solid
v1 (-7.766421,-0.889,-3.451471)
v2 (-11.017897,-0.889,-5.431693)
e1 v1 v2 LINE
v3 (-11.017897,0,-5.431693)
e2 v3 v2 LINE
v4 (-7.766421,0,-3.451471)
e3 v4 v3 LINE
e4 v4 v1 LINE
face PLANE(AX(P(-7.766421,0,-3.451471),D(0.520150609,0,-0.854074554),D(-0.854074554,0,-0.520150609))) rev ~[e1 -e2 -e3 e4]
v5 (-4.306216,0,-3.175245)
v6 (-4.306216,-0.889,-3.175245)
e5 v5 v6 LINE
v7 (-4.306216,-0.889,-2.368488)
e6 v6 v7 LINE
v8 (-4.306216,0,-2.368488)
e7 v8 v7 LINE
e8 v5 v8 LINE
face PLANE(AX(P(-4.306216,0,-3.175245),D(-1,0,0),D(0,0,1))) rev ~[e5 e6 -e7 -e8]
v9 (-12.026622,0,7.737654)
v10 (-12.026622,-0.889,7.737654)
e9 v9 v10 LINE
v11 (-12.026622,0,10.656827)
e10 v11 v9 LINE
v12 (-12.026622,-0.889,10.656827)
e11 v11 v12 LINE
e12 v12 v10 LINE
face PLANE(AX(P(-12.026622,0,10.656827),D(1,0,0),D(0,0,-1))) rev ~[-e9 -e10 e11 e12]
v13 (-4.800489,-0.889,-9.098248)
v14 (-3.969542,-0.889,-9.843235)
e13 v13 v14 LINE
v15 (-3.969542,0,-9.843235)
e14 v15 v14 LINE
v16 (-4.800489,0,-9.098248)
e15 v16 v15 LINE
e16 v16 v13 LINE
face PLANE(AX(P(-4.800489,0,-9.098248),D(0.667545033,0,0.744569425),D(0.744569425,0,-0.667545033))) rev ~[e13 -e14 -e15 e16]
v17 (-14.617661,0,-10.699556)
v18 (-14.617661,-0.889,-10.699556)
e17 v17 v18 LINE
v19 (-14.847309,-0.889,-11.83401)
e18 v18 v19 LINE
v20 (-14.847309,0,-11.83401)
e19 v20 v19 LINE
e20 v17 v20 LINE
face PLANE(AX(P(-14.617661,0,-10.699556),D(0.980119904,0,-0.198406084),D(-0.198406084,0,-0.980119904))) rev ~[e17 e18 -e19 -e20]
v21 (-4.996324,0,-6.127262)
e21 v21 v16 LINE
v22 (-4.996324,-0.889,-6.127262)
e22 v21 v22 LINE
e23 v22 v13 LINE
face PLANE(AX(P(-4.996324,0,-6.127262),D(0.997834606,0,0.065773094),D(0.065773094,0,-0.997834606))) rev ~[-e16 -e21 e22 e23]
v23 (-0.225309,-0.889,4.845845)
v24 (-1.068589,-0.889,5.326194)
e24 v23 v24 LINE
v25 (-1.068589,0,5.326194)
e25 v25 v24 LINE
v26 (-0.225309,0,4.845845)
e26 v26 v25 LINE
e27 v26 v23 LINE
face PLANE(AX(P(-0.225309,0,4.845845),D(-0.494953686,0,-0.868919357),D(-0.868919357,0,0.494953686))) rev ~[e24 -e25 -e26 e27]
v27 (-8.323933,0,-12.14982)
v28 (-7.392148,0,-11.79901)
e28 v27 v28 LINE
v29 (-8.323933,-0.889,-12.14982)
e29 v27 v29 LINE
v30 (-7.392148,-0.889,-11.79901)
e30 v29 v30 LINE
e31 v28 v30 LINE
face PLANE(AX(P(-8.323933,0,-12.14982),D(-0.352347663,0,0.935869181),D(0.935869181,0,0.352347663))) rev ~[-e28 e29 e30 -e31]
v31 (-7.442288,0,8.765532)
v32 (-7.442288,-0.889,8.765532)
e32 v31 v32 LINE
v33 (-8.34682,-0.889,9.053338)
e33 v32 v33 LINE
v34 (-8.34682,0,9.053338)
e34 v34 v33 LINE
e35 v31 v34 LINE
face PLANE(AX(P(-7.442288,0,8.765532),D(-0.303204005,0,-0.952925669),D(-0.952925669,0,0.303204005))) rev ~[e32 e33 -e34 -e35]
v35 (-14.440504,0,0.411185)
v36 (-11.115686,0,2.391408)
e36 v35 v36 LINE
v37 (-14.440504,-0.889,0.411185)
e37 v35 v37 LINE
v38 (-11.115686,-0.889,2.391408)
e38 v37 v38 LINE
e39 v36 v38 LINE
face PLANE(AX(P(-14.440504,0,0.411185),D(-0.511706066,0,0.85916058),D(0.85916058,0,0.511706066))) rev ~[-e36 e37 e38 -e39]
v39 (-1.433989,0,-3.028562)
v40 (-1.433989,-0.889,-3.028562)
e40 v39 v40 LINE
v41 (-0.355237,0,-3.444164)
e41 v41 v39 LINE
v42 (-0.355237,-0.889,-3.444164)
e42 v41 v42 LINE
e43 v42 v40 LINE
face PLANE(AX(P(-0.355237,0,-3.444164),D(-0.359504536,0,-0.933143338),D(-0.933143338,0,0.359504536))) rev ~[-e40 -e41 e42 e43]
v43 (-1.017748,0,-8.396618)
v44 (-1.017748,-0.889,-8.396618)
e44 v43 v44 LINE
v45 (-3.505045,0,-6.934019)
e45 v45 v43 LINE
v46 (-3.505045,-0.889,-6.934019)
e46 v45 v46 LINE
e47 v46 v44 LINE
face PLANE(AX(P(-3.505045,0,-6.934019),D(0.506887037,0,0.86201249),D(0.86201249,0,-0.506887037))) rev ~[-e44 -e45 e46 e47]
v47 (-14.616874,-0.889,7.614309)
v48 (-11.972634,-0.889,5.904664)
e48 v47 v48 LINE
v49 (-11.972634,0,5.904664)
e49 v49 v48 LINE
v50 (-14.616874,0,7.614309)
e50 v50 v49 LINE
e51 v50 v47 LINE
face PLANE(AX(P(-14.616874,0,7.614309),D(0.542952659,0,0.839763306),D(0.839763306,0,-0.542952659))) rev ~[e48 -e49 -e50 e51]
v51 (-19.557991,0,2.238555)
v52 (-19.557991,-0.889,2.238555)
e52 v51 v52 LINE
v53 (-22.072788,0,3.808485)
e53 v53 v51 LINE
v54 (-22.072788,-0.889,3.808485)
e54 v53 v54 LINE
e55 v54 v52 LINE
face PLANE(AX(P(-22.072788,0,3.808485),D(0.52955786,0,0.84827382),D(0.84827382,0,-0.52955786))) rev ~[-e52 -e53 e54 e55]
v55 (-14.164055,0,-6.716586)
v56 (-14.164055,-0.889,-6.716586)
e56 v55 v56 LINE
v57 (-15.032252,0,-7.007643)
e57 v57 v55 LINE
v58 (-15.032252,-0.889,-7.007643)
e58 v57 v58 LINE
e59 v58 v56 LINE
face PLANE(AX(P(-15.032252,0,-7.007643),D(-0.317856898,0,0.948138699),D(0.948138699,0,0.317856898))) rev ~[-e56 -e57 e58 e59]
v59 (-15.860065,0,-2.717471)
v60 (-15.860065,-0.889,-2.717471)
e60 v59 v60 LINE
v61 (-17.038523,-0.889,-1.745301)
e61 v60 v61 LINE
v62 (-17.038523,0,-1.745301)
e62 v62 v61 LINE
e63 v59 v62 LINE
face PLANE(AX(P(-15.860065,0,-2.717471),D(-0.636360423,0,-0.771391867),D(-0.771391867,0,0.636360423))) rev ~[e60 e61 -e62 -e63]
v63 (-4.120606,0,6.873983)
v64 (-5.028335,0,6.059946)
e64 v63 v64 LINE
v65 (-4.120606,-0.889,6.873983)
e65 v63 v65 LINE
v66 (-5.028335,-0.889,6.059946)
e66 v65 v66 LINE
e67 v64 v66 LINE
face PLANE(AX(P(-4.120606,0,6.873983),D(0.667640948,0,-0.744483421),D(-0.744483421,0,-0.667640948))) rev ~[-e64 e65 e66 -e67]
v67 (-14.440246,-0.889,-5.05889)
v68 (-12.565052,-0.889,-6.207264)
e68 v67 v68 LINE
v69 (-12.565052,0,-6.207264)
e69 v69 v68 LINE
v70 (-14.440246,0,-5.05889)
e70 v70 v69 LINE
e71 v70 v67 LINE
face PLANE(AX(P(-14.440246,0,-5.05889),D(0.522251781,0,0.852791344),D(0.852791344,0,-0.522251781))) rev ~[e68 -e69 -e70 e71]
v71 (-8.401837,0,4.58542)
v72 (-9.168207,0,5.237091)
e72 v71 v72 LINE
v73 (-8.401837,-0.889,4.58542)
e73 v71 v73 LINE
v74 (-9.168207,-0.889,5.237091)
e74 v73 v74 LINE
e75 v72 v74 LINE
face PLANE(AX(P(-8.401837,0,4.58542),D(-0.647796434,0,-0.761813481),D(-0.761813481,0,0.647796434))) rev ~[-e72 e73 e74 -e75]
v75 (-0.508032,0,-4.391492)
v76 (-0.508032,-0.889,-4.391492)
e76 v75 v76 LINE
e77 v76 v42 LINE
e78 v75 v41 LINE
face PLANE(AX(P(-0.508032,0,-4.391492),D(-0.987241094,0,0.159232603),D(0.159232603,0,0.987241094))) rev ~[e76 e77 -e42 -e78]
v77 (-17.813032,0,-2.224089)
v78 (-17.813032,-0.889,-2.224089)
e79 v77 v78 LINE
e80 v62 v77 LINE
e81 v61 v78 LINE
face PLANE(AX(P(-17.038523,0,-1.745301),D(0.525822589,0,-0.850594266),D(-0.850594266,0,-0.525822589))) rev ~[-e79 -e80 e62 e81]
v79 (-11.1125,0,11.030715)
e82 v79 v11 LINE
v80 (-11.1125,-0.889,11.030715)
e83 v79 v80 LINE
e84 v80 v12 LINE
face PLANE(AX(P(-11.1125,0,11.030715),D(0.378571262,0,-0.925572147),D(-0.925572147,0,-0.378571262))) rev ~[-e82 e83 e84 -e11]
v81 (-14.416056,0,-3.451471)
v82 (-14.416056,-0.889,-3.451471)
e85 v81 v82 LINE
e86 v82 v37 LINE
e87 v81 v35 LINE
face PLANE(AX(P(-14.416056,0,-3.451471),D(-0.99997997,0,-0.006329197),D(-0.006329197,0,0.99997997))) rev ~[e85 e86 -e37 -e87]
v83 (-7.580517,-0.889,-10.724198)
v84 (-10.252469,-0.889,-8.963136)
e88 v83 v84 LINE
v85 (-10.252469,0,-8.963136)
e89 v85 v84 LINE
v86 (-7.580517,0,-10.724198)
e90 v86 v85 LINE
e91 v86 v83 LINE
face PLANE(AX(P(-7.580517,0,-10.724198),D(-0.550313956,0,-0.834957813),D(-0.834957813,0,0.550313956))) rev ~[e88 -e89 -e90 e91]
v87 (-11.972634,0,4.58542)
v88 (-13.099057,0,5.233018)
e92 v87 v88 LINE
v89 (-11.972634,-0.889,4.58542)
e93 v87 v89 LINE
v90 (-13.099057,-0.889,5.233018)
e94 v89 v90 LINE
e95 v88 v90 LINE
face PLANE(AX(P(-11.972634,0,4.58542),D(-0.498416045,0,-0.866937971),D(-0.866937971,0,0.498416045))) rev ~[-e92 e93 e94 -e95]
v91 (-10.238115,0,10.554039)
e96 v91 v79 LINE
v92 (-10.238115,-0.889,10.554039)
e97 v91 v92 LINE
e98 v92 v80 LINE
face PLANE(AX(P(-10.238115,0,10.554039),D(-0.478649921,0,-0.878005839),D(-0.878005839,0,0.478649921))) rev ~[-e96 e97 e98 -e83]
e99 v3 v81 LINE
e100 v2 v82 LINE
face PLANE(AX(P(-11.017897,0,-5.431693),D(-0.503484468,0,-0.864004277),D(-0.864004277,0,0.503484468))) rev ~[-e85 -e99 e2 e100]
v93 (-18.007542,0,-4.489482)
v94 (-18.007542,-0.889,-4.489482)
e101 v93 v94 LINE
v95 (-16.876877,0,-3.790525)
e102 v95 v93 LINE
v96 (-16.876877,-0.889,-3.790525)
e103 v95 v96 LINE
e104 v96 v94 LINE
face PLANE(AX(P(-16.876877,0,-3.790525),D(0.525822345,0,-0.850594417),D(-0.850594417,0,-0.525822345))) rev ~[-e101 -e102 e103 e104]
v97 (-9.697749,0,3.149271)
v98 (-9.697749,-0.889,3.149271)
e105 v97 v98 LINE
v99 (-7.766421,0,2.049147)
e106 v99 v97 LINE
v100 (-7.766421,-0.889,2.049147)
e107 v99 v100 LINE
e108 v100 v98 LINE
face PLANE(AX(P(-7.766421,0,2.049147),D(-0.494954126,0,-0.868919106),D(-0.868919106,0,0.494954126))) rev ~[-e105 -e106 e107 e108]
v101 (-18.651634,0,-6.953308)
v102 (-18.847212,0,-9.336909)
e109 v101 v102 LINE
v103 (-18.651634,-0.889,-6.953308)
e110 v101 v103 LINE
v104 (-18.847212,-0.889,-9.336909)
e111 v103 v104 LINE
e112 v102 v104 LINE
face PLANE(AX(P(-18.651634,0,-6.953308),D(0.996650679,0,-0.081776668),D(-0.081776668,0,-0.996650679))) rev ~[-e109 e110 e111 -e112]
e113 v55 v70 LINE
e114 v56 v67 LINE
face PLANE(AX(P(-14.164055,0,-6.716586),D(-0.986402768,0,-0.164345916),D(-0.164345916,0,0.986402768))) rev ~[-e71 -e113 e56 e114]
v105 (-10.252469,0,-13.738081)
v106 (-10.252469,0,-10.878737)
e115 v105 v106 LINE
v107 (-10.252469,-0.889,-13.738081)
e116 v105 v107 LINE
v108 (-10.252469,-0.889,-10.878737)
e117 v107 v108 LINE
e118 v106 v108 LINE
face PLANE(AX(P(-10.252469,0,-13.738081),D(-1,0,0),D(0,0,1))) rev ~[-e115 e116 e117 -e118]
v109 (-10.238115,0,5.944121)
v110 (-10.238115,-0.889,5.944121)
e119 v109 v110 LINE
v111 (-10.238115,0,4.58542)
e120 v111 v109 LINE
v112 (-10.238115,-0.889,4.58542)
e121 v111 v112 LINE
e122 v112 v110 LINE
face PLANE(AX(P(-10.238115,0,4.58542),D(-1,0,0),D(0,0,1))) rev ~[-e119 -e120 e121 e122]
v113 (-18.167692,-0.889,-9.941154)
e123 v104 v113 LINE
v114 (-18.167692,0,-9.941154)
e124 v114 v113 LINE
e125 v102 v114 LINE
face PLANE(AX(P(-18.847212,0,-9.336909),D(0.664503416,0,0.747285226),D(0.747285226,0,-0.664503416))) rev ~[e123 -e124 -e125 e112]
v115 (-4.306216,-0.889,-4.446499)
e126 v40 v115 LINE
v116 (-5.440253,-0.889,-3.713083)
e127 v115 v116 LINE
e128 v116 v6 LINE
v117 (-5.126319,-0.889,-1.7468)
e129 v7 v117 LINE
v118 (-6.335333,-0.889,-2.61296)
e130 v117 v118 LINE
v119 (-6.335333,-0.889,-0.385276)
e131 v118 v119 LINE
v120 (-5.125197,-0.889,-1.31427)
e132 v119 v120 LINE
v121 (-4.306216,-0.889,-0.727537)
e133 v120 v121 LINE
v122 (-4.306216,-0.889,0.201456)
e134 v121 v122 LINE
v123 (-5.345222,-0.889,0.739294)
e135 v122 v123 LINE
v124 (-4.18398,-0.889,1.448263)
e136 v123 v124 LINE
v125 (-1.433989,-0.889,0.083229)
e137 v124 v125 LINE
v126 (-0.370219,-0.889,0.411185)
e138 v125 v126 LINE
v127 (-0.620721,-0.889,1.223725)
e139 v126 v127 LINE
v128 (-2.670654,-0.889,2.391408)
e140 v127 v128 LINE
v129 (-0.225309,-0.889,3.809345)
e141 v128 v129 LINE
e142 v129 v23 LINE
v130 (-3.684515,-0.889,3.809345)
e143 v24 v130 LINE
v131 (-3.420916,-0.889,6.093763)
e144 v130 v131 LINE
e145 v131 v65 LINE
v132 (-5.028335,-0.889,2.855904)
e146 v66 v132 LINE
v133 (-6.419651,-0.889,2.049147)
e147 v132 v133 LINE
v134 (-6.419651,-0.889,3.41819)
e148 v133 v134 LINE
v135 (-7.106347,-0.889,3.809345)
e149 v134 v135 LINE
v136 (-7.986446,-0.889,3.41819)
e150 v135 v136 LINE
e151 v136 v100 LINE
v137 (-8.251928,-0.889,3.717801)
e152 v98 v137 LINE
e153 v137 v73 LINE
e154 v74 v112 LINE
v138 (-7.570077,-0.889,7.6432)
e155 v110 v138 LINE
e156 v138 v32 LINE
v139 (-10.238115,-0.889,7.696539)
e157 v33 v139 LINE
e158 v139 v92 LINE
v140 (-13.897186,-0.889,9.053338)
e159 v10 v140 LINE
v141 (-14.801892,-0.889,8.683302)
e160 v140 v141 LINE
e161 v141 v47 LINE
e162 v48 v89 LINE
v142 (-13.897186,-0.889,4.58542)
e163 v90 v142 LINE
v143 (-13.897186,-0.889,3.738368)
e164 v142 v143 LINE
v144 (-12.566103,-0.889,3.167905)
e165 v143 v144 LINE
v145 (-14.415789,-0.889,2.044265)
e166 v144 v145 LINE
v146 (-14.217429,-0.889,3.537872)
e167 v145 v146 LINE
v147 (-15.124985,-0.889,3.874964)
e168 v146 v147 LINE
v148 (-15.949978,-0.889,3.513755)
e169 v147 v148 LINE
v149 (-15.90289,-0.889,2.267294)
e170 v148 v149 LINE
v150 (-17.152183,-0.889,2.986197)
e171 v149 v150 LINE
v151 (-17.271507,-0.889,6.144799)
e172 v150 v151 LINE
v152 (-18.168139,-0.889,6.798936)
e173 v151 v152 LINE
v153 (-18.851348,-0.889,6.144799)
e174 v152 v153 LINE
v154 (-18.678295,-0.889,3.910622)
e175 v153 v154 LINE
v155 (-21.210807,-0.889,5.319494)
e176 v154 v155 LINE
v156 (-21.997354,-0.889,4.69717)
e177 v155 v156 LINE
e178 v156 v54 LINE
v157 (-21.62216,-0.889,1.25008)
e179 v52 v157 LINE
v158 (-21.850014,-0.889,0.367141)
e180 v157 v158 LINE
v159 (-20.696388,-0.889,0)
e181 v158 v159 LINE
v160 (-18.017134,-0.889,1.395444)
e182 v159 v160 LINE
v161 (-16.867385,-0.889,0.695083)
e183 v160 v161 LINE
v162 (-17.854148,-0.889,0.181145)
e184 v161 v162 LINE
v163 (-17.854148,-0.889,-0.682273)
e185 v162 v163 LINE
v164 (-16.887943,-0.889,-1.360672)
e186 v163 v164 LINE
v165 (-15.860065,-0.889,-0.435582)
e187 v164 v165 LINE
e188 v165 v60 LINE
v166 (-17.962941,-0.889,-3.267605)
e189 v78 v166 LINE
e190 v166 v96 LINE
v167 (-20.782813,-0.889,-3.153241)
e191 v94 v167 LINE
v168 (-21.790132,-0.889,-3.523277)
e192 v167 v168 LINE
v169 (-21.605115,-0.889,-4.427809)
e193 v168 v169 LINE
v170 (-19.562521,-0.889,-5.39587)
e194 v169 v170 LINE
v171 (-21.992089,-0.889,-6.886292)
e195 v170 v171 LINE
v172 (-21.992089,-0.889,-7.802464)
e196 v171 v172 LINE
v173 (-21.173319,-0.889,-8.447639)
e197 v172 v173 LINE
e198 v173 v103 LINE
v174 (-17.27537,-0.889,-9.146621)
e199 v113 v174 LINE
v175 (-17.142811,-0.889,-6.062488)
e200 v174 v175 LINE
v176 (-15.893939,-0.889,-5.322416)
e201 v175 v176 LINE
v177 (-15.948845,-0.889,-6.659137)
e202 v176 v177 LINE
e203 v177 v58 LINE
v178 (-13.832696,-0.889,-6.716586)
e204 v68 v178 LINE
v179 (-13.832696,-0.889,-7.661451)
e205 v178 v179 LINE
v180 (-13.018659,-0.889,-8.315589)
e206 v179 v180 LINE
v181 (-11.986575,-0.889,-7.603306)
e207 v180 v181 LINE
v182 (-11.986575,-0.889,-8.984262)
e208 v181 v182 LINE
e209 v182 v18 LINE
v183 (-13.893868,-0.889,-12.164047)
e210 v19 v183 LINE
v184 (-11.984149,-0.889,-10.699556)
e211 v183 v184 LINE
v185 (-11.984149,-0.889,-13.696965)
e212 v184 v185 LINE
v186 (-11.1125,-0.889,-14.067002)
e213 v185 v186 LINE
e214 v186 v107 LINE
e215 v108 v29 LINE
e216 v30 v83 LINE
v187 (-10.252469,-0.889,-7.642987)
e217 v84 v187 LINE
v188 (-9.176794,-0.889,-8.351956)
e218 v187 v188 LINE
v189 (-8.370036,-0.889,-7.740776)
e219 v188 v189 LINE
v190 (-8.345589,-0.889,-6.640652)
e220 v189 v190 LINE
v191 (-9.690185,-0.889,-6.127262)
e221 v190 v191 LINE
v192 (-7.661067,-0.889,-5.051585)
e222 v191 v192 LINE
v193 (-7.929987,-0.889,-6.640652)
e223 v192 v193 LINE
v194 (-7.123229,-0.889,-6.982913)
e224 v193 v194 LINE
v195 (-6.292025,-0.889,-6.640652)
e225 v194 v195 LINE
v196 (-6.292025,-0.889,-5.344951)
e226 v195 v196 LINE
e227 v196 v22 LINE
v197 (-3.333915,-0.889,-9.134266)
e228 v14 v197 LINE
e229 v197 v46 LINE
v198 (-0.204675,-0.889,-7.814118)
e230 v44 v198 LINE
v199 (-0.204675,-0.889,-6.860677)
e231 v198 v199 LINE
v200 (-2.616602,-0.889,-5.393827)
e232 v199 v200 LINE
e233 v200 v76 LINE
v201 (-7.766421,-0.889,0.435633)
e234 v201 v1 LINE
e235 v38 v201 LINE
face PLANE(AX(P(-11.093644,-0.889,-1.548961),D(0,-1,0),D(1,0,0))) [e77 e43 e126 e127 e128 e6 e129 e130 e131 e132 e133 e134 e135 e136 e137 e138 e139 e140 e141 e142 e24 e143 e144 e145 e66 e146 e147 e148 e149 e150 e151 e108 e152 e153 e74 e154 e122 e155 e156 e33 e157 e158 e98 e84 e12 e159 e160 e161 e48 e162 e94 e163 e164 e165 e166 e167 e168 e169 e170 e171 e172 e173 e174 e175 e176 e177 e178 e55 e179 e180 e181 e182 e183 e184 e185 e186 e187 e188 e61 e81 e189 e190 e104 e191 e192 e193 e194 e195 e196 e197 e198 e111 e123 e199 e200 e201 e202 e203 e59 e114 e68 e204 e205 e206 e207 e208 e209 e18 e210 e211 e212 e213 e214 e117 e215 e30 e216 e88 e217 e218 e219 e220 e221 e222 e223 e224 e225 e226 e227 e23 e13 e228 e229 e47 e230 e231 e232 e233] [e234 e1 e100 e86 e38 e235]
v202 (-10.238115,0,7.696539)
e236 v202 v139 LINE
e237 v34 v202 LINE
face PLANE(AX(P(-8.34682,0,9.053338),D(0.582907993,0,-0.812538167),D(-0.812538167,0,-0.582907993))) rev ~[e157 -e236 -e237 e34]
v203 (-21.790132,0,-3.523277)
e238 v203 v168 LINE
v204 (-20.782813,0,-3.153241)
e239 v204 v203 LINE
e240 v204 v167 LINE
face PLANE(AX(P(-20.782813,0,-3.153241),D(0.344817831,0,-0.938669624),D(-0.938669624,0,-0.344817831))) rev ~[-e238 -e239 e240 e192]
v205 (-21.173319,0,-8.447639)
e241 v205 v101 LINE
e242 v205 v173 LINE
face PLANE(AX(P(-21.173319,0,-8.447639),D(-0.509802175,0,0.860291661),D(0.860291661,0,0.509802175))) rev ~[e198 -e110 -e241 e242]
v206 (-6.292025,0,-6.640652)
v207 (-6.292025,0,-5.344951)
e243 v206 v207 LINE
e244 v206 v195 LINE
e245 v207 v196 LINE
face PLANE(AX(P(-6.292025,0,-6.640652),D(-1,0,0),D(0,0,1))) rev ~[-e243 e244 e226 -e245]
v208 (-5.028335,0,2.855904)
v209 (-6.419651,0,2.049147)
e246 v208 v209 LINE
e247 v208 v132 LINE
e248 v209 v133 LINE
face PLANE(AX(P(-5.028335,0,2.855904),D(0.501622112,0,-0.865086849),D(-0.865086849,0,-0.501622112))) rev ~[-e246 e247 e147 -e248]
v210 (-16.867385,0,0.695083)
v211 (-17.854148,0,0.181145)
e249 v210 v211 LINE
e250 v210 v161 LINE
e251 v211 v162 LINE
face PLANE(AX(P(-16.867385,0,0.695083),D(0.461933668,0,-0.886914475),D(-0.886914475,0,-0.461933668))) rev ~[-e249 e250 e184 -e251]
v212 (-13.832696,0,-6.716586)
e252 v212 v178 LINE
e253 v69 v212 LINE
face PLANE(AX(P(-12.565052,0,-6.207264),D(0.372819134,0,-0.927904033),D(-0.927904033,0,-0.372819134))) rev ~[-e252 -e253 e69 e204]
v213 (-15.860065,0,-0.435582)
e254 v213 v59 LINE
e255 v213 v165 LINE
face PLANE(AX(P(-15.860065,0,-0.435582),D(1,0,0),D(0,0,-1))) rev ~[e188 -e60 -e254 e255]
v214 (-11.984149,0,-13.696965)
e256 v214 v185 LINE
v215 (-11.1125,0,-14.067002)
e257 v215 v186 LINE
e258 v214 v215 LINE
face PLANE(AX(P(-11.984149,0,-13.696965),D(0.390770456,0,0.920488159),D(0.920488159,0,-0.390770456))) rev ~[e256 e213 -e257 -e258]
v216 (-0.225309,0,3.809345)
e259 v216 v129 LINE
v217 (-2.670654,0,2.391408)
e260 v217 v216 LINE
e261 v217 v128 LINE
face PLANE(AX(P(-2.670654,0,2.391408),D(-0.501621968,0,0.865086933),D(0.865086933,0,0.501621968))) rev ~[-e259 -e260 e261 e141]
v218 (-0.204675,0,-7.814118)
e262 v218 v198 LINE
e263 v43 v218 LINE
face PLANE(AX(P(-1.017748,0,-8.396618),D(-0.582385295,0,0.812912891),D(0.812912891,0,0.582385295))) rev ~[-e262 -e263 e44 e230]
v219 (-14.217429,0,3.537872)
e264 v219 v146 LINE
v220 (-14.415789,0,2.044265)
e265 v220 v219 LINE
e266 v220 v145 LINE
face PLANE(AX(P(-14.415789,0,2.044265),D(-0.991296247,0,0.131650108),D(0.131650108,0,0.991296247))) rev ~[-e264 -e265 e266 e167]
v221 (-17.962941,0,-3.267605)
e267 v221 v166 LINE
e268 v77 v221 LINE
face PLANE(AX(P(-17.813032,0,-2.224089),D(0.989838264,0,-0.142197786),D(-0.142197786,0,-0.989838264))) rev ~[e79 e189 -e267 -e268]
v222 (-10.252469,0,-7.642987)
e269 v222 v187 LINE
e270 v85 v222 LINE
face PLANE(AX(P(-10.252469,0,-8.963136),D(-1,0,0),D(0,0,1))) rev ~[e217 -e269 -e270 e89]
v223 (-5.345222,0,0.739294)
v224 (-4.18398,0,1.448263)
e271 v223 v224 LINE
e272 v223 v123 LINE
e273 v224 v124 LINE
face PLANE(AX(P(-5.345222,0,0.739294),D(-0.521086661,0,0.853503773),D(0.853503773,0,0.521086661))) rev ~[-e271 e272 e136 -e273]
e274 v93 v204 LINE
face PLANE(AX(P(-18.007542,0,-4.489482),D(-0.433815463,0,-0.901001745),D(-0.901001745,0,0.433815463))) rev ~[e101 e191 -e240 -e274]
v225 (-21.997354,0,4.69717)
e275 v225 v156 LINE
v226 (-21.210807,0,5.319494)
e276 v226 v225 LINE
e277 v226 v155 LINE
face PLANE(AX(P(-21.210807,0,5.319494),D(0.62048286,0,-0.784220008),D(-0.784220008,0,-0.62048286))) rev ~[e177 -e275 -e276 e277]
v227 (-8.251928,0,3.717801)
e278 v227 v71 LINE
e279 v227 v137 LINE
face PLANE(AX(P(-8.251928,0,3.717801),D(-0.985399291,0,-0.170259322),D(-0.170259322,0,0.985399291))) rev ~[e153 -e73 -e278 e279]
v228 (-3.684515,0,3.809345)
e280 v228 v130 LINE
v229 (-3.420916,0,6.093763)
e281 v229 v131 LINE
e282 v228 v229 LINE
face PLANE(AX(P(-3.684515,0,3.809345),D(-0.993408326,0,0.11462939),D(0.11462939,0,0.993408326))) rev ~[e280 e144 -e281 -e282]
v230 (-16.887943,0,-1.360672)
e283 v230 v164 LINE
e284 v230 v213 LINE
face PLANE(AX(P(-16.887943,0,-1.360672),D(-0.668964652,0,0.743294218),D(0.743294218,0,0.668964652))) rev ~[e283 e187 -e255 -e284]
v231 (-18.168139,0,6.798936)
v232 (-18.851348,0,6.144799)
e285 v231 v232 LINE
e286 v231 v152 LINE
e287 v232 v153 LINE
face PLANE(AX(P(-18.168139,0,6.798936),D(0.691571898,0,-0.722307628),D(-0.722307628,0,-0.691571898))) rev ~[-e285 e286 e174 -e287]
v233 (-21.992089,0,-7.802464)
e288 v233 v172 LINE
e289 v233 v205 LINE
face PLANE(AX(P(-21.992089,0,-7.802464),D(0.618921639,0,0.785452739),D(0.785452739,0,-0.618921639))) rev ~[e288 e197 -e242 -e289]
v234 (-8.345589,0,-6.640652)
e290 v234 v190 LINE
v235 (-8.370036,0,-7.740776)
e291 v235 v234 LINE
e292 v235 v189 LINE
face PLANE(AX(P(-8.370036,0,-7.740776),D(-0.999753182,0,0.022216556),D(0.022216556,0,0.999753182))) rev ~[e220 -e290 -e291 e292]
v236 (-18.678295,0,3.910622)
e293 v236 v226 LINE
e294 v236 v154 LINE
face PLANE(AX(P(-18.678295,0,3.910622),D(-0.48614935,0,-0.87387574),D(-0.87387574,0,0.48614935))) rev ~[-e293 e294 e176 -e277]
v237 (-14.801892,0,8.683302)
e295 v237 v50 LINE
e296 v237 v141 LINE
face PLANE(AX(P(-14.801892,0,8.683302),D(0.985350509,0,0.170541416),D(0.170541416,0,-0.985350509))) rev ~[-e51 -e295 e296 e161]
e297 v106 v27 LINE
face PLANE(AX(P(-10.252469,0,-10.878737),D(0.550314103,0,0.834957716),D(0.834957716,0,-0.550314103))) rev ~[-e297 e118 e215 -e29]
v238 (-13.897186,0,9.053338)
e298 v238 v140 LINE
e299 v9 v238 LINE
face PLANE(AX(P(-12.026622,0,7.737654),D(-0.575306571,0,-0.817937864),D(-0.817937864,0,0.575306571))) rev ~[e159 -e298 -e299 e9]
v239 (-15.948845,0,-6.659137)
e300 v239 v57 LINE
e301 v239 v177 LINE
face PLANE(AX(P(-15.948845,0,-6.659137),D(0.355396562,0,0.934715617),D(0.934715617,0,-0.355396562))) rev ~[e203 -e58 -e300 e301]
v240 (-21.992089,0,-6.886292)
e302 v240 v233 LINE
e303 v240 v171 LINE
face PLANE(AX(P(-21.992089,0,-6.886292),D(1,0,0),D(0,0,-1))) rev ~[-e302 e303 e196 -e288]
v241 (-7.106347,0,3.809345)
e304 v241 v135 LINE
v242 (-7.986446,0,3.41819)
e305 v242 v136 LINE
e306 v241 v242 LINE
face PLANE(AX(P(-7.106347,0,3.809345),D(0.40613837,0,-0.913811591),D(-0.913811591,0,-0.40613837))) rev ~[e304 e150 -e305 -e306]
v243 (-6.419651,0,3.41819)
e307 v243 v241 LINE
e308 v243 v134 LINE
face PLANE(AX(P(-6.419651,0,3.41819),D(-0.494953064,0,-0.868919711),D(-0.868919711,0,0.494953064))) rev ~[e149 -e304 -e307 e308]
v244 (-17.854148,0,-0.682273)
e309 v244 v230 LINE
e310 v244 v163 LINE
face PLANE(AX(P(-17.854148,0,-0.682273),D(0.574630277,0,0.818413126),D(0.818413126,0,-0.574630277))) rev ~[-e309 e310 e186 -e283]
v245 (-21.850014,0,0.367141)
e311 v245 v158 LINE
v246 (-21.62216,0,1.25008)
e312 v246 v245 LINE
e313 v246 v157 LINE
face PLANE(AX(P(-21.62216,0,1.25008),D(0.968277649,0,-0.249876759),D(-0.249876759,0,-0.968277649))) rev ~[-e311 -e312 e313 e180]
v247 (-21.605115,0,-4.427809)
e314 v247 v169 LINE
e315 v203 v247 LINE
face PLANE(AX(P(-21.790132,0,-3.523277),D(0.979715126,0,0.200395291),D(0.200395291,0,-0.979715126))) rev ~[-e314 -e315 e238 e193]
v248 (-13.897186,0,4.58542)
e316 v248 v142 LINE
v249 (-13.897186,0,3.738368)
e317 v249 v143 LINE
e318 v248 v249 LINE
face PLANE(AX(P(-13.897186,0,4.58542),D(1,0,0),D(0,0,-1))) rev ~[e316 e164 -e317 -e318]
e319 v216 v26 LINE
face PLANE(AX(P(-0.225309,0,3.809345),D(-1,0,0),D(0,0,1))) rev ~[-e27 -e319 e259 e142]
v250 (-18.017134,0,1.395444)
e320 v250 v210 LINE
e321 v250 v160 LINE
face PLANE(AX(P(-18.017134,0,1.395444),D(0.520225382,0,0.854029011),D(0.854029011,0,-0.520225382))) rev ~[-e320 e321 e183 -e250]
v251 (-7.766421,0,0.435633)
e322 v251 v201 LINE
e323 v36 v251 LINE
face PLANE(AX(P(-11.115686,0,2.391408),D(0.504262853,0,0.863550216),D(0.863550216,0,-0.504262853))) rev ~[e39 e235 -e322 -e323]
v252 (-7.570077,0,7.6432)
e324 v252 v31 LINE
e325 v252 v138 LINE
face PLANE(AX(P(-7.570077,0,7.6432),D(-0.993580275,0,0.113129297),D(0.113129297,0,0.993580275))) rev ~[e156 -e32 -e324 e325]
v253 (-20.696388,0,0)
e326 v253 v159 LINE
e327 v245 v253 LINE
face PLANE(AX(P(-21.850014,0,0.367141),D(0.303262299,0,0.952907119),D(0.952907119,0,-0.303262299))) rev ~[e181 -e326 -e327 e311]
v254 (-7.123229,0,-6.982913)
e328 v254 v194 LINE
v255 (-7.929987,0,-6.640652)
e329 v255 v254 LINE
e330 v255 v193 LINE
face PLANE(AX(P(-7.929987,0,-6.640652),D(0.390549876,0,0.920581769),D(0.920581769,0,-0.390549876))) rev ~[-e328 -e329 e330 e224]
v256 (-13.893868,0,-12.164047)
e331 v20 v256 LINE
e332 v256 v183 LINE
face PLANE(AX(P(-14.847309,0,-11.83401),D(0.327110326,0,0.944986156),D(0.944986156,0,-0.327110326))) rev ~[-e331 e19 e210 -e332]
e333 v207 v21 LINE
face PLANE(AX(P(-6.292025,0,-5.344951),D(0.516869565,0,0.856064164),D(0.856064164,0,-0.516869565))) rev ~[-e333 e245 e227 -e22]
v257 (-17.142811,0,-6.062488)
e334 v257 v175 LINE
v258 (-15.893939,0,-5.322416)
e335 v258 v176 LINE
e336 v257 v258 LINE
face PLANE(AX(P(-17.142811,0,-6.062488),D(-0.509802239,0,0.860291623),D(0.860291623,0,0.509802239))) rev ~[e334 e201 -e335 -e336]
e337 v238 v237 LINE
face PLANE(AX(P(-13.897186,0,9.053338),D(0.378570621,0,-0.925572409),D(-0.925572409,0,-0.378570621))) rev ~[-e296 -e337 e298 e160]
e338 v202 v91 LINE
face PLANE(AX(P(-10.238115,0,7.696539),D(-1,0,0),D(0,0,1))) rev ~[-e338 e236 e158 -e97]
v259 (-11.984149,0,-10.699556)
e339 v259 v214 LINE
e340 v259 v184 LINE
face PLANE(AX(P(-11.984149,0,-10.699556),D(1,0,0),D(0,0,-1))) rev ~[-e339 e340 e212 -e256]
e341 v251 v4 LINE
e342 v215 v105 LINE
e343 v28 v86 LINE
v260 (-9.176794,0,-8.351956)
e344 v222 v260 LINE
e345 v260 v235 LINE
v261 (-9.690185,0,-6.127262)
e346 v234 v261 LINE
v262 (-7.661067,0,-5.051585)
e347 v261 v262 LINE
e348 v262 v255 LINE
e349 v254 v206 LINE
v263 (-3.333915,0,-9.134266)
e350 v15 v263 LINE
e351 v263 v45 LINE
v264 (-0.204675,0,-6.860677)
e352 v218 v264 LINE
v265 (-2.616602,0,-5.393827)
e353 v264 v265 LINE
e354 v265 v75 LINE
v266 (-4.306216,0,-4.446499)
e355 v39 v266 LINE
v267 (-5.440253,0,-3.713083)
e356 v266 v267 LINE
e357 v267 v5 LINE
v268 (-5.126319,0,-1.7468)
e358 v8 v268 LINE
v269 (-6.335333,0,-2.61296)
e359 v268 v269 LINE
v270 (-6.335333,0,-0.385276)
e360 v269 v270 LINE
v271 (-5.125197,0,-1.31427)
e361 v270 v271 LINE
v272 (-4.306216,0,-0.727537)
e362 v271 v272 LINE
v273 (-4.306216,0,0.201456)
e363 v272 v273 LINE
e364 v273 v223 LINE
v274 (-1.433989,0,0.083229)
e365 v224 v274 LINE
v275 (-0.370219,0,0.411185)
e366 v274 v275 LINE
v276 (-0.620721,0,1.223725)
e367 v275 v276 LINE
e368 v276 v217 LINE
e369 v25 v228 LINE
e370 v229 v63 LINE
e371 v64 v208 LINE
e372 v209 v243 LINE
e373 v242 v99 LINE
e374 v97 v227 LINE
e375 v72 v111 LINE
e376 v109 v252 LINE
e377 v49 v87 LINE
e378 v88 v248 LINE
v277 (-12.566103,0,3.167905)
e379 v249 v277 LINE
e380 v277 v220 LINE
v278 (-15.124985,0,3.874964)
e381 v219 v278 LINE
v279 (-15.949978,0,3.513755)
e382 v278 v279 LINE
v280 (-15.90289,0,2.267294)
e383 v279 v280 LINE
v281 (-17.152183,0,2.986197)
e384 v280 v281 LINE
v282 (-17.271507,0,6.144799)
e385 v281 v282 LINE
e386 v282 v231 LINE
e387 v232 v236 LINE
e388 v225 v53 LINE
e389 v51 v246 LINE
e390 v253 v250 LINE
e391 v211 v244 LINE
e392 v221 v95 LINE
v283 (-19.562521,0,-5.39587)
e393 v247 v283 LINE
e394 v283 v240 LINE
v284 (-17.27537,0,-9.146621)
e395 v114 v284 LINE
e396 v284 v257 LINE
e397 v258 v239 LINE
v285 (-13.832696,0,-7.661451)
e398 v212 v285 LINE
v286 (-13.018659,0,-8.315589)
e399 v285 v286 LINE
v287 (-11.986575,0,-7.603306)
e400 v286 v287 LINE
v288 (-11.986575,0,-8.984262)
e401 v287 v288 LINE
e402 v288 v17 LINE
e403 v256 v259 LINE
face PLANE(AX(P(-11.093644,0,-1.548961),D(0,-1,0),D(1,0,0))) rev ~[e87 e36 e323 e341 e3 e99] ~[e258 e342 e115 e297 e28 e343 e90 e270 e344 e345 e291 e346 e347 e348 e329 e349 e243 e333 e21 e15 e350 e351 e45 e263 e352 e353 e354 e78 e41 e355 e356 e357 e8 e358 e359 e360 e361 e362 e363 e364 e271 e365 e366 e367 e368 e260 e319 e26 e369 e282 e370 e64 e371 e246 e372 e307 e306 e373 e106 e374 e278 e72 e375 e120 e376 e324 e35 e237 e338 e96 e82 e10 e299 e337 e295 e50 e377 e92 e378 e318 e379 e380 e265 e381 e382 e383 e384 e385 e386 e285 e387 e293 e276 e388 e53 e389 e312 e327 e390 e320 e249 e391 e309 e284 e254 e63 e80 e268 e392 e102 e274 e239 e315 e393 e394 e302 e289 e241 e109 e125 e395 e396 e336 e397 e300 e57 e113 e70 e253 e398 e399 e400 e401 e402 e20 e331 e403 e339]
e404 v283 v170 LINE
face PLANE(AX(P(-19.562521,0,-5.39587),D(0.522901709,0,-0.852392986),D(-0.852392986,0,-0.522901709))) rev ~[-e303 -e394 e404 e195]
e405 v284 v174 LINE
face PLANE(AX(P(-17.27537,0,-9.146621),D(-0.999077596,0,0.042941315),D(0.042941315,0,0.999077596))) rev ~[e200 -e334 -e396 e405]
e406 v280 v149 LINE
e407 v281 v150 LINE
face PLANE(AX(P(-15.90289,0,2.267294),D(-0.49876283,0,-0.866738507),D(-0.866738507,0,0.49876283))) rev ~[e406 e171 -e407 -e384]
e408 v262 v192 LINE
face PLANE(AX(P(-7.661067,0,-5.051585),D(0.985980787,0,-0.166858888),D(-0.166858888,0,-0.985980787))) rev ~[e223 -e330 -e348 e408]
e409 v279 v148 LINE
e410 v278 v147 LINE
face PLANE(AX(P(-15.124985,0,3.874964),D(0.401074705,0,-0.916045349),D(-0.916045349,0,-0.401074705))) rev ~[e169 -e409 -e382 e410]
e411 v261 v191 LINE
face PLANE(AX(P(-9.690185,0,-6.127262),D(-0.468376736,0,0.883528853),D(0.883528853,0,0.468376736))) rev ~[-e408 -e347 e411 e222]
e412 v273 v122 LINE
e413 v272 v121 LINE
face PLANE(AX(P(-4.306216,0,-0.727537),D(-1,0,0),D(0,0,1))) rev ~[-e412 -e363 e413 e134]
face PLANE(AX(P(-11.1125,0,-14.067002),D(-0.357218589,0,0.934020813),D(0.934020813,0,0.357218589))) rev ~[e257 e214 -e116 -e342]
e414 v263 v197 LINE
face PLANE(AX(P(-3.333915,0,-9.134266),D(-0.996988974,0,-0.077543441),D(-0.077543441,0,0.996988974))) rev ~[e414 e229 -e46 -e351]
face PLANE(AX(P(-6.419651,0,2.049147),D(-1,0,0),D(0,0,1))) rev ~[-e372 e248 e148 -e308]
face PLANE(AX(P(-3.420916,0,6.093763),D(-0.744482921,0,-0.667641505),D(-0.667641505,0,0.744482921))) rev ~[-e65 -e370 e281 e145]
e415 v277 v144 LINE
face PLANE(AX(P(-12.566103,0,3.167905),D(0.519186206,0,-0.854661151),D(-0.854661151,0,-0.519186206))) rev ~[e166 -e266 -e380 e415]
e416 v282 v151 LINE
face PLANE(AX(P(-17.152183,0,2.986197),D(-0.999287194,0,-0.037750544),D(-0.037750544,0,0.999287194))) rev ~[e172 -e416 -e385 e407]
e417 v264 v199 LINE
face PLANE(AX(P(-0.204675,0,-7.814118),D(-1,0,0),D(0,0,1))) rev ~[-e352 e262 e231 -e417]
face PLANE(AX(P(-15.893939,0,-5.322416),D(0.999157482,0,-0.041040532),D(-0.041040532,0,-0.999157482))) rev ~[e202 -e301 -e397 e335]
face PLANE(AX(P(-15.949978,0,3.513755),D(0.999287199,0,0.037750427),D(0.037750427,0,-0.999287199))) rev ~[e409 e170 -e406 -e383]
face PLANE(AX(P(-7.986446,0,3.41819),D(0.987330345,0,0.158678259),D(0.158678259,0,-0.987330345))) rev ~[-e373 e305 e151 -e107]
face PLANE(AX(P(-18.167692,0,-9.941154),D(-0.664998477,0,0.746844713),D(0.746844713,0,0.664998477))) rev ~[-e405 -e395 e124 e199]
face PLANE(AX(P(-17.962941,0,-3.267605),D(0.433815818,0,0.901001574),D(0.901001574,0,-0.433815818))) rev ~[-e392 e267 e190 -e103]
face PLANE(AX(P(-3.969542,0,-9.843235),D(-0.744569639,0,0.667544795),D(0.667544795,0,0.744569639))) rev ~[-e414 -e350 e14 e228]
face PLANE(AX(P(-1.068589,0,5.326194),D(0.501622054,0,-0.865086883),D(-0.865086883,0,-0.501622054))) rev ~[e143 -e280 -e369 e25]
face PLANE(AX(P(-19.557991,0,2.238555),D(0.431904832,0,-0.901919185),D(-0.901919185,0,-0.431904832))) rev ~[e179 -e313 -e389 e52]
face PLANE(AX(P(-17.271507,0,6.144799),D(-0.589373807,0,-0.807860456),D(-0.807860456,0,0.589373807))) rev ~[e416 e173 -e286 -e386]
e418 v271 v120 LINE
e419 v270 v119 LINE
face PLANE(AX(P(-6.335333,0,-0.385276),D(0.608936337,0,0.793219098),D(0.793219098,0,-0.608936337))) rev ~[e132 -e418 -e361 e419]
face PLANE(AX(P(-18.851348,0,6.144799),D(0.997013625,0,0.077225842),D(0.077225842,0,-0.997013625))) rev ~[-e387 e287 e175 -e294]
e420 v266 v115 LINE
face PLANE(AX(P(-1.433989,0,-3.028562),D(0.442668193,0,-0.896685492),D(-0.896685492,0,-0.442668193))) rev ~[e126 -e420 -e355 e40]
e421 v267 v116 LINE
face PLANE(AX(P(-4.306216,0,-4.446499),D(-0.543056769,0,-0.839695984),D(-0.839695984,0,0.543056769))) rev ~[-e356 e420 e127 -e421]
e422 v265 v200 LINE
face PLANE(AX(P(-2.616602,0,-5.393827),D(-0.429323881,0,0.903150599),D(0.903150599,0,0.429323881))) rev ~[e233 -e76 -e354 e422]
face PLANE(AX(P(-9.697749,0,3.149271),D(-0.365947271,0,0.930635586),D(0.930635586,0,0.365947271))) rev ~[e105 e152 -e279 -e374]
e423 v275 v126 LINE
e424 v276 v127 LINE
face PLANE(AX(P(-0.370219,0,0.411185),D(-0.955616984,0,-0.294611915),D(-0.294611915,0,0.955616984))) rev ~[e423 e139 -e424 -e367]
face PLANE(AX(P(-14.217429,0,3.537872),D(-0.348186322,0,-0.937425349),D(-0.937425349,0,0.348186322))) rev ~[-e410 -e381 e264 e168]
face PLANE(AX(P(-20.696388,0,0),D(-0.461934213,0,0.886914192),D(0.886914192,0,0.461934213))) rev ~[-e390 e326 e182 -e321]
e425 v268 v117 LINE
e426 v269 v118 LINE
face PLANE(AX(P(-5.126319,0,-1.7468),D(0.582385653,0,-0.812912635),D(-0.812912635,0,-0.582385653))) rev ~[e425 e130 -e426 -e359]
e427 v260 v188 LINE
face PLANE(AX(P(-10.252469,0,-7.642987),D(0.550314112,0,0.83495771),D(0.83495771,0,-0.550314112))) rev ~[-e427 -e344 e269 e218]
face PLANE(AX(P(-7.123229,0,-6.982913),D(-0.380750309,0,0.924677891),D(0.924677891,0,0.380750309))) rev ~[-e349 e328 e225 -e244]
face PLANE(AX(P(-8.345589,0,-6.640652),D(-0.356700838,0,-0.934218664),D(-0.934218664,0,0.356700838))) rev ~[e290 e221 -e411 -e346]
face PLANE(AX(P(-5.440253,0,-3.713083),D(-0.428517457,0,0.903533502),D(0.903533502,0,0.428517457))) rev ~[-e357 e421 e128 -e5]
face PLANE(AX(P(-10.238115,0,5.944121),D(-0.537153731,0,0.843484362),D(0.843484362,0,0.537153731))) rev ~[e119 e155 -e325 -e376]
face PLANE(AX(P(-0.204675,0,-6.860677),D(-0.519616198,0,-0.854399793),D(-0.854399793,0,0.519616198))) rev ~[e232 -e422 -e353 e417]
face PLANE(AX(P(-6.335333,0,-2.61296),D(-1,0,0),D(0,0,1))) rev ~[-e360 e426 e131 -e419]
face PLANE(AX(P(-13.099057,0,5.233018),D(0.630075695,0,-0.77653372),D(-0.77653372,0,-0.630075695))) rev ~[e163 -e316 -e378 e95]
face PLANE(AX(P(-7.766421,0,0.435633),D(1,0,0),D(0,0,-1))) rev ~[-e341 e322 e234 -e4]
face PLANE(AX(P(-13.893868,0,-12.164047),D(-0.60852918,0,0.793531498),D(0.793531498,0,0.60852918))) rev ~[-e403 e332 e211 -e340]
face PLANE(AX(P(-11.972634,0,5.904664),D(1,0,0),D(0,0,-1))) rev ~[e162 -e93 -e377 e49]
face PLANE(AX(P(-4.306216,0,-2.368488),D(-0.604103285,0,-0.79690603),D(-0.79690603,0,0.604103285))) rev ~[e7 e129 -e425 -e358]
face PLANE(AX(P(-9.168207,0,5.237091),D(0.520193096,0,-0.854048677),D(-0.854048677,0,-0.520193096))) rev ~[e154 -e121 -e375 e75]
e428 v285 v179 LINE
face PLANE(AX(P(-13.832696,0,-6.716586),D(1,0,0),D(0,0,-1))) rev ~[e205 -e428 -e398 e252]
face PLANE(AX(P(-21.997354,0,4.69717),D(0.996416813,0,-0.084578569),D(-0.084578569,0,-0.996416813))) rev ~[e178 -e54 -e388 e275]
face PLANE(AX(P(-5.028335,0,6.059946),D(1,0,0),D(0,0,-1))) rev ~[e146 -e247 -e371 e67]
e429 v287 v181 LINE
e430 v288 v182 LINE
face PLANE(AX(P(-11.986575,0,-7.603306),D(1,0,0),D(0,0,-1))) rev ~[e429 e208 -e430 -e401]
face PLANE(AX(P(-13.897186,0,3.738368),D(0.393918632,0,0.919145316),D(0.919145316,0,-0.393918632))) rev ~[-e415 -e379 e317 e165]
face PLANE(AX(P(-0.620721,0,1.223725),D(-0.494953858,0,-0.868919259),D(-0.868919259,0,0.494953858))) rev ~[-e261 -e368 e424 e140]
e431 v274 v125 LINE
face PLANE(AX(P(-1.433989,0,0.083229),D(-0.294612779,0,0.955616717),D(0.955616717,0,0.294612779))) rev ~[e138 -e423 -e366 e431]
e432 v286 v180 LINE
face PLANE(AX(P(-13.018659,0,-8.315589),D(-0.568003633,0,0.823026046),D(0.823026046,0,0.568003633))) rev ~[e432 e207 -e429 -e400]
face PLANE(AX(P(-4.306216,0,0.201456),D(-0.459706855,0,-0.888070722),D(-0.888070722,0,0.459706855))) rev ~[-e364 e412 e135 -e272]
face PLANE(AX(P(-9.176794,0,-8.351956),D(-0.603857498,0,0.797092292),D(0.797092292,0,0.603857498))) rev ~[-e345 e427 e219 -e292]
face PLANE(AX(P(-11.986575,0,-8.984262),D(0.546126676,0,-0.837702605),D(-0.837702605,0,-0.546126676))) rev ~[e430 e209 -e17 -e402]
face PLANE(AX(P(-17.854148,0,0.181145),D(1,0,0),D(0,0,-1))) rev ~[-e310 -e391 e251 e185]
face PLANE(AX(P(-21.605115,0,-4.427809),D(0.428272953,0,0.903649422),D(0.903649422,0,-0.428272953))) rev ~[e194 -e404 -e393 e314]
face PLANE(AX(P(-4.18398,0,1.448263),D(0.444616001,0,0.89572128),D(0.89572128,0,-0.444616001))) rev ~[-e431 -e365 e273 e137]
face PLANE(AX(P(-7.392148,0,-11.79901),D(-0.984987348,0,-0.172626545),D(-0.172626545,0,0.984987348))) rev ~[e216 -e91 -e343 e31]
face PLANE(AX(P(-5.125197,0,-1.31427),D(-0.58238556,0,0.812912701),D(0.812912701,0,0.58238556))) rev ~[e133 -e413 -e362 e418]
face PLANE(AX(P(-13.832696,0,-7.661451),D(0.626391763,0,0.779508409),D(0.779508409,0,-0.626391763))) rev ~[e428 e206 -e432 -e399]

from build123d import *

# Parameters (mm, degrees)
F1_DEPTH = 0.889


with BuildPart() as f1:
    # F0 (on Front) → F1 (new body)
    with BuildSketch(Plane.XZ):
        Polygon((-7.766421, 2.049147), (-9.697749, 3.149271), (-8.251928, 3.717801), (-8.401837, 4.58542), (-9.168207, 5.237091), (-10.238115, 4.58542), (-10.238115, 5.944121), (-7.570077, 7.6432), (-7.442288, 8.765532), (-8.34682, 9.053338), (-10.238115, 7.696539), (-10.238115, 10.554039), (-11.1125, 11.030715), (-12.026622, 10.656827), (-12.026622, 7.737654), (-13.897186, 9.053338), (-14.801892, 8.683302), (-14.616874, 7.614309), (-11.972634, 5.904664), (-11.972634, 4.58542), (-13.099057, 5.233018), (-13.897186, 4.58542), (-13.897186, 3.738368), (-12.566103, 3.167905), (-13.490946, 2.606085), (-14.415789, 2.044265), (-14.217429, 3.537872), (-15.124985, 3.874964), (-15.949978, 3.513755), (-15.90289, 2.267294), (-17.152183, 2.986197), (-17.271507, 6.144799), (-18.168139, 6.798936), (-18.851348, 6.144799), (-18.678295, 3.910622), (-21.210807, 5.319494), (-21.997354, 4.69717), (-22.072788, 3.808485), (-19.557991, 2.238555), (-21.62216, 1.25008), (-21.850014, 0.367141), (-20.696388, 0), (-18.017134, 1.395444), (-16.867385, 0.695083), (-17.854148, 0.181145), (-17.854148, -0.682273), (-16.887943, -1.360672), (-15.860065, -0.435582), (-15.860065, -2.717471), (-17.038523, -1.745301), (-17.813032, -2.224089), (-17.962941, -3.267605), (-16.876877, -3.790525), (-18.007542, -4.489482), (-20.782813, -3.153241), (-21.790132, -3.523277), (-21.605115, -4.427809), (-19.562521, -5.39587), (-21.992089, -6.886292), (-21.992089, -7.802464), (-21.173319, -8.447639), (-18.651634, -6.953308), (-18.847212, -9.336909), (-18.167692, -9.941154), (-17.27537, -9.146621), (-17.142811, -6.062488), (-15.893939, -5.322416), (-15.948845, -6.659137), (-15.032252, -7.007643), (-14.164055, -6.716586), (-14.440246, -5.05889), (-12.565052, -6.207264), (-13.832696, -6.716586), (-13.832696, -7.661451), (-13.018659, -8.315589), (-11.986575, -7.603306), (-11.986575, -8.984262), (-14.617661, -10.699556), (-14.847309, -11.83401), (-13.893868, -12.164047), (-11.984149, -10.699556), (-11.984149, -13.696965), (-11.1125, -14.067002), (-10.252469, -13.738081), (-10.252469, -10.878737), (-8.323933, -12.14982), (-7.392148, -11.79901), (-7.580517, -10.724198), (-10.252469, -8.963136), (-10.252469, -7.642987), (-9.176794, -8.351956), (-8.370036, -7.740776), (-8.345589, -6.640652), (-9.690185, -6.127262), (-7.661067, -5.051585), (-7.929987, -6.640652), (-7.123229, -6.982913), (-6.292025, -6.640652), (-6.292025, -5.344951), (-4.996324, -6.127262), (-4.800489, -9.098248), (-3.969542, -9.843235), (-3.333915, -9.134266), (-3.505045, -6.934019), (-1.017748, -8.396618), (-0.204675, -7.814118), (-0.204675, -6.860677), (-2.616602, -5.393827), (-0.508032, -4.391492), (-0.355237, -3.444164), (-1.433989, -3.028562), (-4.306216, -4.446499), (-5.440253, -3.713083), (-4.306216, -3.175245), (-4.306216, -2.368488), (-5.126319, -1.7468), (-6.335333, -2.61296), (-6.335333, -0.385276), (-5.125197, -1.31427), (-4.306216, -0.727537), (-4.306216, 0.201456), (-5.345222, 0.739294), (-4.18398, 1.448263), (-1.433989, 0.083229), (-0.370219, 0.411185), (-0.620721, 1.223725), (-2.670654, 2.391408), (-0.225309, 3.809345), (-0.225309, 4.845845), (-1.068589, 5.326194), (-3.684515, 3.809345), (-3.420916, 6.093763), (-4.120606, 6.873983), (-5.028335, 6.059946), (-5.028335, 2.855904), (-6.419651, 2.049147), (-6.419651, 3.41819), (-7.106347, 3.809345), (-7.986446, 3.41819), align=None)
        Polygon((-14.416056, -3.451471), (-14.440504, 0.411185), (-11.115686, 2.391408), (-7.766421, 0.435633), (-7.766421, -3.451471), (-11.017897, -5.431693), align=None, mode=Mode.SUBTRACT)
    extrude(amount=F1_DEPTH)


solid = f1.part
